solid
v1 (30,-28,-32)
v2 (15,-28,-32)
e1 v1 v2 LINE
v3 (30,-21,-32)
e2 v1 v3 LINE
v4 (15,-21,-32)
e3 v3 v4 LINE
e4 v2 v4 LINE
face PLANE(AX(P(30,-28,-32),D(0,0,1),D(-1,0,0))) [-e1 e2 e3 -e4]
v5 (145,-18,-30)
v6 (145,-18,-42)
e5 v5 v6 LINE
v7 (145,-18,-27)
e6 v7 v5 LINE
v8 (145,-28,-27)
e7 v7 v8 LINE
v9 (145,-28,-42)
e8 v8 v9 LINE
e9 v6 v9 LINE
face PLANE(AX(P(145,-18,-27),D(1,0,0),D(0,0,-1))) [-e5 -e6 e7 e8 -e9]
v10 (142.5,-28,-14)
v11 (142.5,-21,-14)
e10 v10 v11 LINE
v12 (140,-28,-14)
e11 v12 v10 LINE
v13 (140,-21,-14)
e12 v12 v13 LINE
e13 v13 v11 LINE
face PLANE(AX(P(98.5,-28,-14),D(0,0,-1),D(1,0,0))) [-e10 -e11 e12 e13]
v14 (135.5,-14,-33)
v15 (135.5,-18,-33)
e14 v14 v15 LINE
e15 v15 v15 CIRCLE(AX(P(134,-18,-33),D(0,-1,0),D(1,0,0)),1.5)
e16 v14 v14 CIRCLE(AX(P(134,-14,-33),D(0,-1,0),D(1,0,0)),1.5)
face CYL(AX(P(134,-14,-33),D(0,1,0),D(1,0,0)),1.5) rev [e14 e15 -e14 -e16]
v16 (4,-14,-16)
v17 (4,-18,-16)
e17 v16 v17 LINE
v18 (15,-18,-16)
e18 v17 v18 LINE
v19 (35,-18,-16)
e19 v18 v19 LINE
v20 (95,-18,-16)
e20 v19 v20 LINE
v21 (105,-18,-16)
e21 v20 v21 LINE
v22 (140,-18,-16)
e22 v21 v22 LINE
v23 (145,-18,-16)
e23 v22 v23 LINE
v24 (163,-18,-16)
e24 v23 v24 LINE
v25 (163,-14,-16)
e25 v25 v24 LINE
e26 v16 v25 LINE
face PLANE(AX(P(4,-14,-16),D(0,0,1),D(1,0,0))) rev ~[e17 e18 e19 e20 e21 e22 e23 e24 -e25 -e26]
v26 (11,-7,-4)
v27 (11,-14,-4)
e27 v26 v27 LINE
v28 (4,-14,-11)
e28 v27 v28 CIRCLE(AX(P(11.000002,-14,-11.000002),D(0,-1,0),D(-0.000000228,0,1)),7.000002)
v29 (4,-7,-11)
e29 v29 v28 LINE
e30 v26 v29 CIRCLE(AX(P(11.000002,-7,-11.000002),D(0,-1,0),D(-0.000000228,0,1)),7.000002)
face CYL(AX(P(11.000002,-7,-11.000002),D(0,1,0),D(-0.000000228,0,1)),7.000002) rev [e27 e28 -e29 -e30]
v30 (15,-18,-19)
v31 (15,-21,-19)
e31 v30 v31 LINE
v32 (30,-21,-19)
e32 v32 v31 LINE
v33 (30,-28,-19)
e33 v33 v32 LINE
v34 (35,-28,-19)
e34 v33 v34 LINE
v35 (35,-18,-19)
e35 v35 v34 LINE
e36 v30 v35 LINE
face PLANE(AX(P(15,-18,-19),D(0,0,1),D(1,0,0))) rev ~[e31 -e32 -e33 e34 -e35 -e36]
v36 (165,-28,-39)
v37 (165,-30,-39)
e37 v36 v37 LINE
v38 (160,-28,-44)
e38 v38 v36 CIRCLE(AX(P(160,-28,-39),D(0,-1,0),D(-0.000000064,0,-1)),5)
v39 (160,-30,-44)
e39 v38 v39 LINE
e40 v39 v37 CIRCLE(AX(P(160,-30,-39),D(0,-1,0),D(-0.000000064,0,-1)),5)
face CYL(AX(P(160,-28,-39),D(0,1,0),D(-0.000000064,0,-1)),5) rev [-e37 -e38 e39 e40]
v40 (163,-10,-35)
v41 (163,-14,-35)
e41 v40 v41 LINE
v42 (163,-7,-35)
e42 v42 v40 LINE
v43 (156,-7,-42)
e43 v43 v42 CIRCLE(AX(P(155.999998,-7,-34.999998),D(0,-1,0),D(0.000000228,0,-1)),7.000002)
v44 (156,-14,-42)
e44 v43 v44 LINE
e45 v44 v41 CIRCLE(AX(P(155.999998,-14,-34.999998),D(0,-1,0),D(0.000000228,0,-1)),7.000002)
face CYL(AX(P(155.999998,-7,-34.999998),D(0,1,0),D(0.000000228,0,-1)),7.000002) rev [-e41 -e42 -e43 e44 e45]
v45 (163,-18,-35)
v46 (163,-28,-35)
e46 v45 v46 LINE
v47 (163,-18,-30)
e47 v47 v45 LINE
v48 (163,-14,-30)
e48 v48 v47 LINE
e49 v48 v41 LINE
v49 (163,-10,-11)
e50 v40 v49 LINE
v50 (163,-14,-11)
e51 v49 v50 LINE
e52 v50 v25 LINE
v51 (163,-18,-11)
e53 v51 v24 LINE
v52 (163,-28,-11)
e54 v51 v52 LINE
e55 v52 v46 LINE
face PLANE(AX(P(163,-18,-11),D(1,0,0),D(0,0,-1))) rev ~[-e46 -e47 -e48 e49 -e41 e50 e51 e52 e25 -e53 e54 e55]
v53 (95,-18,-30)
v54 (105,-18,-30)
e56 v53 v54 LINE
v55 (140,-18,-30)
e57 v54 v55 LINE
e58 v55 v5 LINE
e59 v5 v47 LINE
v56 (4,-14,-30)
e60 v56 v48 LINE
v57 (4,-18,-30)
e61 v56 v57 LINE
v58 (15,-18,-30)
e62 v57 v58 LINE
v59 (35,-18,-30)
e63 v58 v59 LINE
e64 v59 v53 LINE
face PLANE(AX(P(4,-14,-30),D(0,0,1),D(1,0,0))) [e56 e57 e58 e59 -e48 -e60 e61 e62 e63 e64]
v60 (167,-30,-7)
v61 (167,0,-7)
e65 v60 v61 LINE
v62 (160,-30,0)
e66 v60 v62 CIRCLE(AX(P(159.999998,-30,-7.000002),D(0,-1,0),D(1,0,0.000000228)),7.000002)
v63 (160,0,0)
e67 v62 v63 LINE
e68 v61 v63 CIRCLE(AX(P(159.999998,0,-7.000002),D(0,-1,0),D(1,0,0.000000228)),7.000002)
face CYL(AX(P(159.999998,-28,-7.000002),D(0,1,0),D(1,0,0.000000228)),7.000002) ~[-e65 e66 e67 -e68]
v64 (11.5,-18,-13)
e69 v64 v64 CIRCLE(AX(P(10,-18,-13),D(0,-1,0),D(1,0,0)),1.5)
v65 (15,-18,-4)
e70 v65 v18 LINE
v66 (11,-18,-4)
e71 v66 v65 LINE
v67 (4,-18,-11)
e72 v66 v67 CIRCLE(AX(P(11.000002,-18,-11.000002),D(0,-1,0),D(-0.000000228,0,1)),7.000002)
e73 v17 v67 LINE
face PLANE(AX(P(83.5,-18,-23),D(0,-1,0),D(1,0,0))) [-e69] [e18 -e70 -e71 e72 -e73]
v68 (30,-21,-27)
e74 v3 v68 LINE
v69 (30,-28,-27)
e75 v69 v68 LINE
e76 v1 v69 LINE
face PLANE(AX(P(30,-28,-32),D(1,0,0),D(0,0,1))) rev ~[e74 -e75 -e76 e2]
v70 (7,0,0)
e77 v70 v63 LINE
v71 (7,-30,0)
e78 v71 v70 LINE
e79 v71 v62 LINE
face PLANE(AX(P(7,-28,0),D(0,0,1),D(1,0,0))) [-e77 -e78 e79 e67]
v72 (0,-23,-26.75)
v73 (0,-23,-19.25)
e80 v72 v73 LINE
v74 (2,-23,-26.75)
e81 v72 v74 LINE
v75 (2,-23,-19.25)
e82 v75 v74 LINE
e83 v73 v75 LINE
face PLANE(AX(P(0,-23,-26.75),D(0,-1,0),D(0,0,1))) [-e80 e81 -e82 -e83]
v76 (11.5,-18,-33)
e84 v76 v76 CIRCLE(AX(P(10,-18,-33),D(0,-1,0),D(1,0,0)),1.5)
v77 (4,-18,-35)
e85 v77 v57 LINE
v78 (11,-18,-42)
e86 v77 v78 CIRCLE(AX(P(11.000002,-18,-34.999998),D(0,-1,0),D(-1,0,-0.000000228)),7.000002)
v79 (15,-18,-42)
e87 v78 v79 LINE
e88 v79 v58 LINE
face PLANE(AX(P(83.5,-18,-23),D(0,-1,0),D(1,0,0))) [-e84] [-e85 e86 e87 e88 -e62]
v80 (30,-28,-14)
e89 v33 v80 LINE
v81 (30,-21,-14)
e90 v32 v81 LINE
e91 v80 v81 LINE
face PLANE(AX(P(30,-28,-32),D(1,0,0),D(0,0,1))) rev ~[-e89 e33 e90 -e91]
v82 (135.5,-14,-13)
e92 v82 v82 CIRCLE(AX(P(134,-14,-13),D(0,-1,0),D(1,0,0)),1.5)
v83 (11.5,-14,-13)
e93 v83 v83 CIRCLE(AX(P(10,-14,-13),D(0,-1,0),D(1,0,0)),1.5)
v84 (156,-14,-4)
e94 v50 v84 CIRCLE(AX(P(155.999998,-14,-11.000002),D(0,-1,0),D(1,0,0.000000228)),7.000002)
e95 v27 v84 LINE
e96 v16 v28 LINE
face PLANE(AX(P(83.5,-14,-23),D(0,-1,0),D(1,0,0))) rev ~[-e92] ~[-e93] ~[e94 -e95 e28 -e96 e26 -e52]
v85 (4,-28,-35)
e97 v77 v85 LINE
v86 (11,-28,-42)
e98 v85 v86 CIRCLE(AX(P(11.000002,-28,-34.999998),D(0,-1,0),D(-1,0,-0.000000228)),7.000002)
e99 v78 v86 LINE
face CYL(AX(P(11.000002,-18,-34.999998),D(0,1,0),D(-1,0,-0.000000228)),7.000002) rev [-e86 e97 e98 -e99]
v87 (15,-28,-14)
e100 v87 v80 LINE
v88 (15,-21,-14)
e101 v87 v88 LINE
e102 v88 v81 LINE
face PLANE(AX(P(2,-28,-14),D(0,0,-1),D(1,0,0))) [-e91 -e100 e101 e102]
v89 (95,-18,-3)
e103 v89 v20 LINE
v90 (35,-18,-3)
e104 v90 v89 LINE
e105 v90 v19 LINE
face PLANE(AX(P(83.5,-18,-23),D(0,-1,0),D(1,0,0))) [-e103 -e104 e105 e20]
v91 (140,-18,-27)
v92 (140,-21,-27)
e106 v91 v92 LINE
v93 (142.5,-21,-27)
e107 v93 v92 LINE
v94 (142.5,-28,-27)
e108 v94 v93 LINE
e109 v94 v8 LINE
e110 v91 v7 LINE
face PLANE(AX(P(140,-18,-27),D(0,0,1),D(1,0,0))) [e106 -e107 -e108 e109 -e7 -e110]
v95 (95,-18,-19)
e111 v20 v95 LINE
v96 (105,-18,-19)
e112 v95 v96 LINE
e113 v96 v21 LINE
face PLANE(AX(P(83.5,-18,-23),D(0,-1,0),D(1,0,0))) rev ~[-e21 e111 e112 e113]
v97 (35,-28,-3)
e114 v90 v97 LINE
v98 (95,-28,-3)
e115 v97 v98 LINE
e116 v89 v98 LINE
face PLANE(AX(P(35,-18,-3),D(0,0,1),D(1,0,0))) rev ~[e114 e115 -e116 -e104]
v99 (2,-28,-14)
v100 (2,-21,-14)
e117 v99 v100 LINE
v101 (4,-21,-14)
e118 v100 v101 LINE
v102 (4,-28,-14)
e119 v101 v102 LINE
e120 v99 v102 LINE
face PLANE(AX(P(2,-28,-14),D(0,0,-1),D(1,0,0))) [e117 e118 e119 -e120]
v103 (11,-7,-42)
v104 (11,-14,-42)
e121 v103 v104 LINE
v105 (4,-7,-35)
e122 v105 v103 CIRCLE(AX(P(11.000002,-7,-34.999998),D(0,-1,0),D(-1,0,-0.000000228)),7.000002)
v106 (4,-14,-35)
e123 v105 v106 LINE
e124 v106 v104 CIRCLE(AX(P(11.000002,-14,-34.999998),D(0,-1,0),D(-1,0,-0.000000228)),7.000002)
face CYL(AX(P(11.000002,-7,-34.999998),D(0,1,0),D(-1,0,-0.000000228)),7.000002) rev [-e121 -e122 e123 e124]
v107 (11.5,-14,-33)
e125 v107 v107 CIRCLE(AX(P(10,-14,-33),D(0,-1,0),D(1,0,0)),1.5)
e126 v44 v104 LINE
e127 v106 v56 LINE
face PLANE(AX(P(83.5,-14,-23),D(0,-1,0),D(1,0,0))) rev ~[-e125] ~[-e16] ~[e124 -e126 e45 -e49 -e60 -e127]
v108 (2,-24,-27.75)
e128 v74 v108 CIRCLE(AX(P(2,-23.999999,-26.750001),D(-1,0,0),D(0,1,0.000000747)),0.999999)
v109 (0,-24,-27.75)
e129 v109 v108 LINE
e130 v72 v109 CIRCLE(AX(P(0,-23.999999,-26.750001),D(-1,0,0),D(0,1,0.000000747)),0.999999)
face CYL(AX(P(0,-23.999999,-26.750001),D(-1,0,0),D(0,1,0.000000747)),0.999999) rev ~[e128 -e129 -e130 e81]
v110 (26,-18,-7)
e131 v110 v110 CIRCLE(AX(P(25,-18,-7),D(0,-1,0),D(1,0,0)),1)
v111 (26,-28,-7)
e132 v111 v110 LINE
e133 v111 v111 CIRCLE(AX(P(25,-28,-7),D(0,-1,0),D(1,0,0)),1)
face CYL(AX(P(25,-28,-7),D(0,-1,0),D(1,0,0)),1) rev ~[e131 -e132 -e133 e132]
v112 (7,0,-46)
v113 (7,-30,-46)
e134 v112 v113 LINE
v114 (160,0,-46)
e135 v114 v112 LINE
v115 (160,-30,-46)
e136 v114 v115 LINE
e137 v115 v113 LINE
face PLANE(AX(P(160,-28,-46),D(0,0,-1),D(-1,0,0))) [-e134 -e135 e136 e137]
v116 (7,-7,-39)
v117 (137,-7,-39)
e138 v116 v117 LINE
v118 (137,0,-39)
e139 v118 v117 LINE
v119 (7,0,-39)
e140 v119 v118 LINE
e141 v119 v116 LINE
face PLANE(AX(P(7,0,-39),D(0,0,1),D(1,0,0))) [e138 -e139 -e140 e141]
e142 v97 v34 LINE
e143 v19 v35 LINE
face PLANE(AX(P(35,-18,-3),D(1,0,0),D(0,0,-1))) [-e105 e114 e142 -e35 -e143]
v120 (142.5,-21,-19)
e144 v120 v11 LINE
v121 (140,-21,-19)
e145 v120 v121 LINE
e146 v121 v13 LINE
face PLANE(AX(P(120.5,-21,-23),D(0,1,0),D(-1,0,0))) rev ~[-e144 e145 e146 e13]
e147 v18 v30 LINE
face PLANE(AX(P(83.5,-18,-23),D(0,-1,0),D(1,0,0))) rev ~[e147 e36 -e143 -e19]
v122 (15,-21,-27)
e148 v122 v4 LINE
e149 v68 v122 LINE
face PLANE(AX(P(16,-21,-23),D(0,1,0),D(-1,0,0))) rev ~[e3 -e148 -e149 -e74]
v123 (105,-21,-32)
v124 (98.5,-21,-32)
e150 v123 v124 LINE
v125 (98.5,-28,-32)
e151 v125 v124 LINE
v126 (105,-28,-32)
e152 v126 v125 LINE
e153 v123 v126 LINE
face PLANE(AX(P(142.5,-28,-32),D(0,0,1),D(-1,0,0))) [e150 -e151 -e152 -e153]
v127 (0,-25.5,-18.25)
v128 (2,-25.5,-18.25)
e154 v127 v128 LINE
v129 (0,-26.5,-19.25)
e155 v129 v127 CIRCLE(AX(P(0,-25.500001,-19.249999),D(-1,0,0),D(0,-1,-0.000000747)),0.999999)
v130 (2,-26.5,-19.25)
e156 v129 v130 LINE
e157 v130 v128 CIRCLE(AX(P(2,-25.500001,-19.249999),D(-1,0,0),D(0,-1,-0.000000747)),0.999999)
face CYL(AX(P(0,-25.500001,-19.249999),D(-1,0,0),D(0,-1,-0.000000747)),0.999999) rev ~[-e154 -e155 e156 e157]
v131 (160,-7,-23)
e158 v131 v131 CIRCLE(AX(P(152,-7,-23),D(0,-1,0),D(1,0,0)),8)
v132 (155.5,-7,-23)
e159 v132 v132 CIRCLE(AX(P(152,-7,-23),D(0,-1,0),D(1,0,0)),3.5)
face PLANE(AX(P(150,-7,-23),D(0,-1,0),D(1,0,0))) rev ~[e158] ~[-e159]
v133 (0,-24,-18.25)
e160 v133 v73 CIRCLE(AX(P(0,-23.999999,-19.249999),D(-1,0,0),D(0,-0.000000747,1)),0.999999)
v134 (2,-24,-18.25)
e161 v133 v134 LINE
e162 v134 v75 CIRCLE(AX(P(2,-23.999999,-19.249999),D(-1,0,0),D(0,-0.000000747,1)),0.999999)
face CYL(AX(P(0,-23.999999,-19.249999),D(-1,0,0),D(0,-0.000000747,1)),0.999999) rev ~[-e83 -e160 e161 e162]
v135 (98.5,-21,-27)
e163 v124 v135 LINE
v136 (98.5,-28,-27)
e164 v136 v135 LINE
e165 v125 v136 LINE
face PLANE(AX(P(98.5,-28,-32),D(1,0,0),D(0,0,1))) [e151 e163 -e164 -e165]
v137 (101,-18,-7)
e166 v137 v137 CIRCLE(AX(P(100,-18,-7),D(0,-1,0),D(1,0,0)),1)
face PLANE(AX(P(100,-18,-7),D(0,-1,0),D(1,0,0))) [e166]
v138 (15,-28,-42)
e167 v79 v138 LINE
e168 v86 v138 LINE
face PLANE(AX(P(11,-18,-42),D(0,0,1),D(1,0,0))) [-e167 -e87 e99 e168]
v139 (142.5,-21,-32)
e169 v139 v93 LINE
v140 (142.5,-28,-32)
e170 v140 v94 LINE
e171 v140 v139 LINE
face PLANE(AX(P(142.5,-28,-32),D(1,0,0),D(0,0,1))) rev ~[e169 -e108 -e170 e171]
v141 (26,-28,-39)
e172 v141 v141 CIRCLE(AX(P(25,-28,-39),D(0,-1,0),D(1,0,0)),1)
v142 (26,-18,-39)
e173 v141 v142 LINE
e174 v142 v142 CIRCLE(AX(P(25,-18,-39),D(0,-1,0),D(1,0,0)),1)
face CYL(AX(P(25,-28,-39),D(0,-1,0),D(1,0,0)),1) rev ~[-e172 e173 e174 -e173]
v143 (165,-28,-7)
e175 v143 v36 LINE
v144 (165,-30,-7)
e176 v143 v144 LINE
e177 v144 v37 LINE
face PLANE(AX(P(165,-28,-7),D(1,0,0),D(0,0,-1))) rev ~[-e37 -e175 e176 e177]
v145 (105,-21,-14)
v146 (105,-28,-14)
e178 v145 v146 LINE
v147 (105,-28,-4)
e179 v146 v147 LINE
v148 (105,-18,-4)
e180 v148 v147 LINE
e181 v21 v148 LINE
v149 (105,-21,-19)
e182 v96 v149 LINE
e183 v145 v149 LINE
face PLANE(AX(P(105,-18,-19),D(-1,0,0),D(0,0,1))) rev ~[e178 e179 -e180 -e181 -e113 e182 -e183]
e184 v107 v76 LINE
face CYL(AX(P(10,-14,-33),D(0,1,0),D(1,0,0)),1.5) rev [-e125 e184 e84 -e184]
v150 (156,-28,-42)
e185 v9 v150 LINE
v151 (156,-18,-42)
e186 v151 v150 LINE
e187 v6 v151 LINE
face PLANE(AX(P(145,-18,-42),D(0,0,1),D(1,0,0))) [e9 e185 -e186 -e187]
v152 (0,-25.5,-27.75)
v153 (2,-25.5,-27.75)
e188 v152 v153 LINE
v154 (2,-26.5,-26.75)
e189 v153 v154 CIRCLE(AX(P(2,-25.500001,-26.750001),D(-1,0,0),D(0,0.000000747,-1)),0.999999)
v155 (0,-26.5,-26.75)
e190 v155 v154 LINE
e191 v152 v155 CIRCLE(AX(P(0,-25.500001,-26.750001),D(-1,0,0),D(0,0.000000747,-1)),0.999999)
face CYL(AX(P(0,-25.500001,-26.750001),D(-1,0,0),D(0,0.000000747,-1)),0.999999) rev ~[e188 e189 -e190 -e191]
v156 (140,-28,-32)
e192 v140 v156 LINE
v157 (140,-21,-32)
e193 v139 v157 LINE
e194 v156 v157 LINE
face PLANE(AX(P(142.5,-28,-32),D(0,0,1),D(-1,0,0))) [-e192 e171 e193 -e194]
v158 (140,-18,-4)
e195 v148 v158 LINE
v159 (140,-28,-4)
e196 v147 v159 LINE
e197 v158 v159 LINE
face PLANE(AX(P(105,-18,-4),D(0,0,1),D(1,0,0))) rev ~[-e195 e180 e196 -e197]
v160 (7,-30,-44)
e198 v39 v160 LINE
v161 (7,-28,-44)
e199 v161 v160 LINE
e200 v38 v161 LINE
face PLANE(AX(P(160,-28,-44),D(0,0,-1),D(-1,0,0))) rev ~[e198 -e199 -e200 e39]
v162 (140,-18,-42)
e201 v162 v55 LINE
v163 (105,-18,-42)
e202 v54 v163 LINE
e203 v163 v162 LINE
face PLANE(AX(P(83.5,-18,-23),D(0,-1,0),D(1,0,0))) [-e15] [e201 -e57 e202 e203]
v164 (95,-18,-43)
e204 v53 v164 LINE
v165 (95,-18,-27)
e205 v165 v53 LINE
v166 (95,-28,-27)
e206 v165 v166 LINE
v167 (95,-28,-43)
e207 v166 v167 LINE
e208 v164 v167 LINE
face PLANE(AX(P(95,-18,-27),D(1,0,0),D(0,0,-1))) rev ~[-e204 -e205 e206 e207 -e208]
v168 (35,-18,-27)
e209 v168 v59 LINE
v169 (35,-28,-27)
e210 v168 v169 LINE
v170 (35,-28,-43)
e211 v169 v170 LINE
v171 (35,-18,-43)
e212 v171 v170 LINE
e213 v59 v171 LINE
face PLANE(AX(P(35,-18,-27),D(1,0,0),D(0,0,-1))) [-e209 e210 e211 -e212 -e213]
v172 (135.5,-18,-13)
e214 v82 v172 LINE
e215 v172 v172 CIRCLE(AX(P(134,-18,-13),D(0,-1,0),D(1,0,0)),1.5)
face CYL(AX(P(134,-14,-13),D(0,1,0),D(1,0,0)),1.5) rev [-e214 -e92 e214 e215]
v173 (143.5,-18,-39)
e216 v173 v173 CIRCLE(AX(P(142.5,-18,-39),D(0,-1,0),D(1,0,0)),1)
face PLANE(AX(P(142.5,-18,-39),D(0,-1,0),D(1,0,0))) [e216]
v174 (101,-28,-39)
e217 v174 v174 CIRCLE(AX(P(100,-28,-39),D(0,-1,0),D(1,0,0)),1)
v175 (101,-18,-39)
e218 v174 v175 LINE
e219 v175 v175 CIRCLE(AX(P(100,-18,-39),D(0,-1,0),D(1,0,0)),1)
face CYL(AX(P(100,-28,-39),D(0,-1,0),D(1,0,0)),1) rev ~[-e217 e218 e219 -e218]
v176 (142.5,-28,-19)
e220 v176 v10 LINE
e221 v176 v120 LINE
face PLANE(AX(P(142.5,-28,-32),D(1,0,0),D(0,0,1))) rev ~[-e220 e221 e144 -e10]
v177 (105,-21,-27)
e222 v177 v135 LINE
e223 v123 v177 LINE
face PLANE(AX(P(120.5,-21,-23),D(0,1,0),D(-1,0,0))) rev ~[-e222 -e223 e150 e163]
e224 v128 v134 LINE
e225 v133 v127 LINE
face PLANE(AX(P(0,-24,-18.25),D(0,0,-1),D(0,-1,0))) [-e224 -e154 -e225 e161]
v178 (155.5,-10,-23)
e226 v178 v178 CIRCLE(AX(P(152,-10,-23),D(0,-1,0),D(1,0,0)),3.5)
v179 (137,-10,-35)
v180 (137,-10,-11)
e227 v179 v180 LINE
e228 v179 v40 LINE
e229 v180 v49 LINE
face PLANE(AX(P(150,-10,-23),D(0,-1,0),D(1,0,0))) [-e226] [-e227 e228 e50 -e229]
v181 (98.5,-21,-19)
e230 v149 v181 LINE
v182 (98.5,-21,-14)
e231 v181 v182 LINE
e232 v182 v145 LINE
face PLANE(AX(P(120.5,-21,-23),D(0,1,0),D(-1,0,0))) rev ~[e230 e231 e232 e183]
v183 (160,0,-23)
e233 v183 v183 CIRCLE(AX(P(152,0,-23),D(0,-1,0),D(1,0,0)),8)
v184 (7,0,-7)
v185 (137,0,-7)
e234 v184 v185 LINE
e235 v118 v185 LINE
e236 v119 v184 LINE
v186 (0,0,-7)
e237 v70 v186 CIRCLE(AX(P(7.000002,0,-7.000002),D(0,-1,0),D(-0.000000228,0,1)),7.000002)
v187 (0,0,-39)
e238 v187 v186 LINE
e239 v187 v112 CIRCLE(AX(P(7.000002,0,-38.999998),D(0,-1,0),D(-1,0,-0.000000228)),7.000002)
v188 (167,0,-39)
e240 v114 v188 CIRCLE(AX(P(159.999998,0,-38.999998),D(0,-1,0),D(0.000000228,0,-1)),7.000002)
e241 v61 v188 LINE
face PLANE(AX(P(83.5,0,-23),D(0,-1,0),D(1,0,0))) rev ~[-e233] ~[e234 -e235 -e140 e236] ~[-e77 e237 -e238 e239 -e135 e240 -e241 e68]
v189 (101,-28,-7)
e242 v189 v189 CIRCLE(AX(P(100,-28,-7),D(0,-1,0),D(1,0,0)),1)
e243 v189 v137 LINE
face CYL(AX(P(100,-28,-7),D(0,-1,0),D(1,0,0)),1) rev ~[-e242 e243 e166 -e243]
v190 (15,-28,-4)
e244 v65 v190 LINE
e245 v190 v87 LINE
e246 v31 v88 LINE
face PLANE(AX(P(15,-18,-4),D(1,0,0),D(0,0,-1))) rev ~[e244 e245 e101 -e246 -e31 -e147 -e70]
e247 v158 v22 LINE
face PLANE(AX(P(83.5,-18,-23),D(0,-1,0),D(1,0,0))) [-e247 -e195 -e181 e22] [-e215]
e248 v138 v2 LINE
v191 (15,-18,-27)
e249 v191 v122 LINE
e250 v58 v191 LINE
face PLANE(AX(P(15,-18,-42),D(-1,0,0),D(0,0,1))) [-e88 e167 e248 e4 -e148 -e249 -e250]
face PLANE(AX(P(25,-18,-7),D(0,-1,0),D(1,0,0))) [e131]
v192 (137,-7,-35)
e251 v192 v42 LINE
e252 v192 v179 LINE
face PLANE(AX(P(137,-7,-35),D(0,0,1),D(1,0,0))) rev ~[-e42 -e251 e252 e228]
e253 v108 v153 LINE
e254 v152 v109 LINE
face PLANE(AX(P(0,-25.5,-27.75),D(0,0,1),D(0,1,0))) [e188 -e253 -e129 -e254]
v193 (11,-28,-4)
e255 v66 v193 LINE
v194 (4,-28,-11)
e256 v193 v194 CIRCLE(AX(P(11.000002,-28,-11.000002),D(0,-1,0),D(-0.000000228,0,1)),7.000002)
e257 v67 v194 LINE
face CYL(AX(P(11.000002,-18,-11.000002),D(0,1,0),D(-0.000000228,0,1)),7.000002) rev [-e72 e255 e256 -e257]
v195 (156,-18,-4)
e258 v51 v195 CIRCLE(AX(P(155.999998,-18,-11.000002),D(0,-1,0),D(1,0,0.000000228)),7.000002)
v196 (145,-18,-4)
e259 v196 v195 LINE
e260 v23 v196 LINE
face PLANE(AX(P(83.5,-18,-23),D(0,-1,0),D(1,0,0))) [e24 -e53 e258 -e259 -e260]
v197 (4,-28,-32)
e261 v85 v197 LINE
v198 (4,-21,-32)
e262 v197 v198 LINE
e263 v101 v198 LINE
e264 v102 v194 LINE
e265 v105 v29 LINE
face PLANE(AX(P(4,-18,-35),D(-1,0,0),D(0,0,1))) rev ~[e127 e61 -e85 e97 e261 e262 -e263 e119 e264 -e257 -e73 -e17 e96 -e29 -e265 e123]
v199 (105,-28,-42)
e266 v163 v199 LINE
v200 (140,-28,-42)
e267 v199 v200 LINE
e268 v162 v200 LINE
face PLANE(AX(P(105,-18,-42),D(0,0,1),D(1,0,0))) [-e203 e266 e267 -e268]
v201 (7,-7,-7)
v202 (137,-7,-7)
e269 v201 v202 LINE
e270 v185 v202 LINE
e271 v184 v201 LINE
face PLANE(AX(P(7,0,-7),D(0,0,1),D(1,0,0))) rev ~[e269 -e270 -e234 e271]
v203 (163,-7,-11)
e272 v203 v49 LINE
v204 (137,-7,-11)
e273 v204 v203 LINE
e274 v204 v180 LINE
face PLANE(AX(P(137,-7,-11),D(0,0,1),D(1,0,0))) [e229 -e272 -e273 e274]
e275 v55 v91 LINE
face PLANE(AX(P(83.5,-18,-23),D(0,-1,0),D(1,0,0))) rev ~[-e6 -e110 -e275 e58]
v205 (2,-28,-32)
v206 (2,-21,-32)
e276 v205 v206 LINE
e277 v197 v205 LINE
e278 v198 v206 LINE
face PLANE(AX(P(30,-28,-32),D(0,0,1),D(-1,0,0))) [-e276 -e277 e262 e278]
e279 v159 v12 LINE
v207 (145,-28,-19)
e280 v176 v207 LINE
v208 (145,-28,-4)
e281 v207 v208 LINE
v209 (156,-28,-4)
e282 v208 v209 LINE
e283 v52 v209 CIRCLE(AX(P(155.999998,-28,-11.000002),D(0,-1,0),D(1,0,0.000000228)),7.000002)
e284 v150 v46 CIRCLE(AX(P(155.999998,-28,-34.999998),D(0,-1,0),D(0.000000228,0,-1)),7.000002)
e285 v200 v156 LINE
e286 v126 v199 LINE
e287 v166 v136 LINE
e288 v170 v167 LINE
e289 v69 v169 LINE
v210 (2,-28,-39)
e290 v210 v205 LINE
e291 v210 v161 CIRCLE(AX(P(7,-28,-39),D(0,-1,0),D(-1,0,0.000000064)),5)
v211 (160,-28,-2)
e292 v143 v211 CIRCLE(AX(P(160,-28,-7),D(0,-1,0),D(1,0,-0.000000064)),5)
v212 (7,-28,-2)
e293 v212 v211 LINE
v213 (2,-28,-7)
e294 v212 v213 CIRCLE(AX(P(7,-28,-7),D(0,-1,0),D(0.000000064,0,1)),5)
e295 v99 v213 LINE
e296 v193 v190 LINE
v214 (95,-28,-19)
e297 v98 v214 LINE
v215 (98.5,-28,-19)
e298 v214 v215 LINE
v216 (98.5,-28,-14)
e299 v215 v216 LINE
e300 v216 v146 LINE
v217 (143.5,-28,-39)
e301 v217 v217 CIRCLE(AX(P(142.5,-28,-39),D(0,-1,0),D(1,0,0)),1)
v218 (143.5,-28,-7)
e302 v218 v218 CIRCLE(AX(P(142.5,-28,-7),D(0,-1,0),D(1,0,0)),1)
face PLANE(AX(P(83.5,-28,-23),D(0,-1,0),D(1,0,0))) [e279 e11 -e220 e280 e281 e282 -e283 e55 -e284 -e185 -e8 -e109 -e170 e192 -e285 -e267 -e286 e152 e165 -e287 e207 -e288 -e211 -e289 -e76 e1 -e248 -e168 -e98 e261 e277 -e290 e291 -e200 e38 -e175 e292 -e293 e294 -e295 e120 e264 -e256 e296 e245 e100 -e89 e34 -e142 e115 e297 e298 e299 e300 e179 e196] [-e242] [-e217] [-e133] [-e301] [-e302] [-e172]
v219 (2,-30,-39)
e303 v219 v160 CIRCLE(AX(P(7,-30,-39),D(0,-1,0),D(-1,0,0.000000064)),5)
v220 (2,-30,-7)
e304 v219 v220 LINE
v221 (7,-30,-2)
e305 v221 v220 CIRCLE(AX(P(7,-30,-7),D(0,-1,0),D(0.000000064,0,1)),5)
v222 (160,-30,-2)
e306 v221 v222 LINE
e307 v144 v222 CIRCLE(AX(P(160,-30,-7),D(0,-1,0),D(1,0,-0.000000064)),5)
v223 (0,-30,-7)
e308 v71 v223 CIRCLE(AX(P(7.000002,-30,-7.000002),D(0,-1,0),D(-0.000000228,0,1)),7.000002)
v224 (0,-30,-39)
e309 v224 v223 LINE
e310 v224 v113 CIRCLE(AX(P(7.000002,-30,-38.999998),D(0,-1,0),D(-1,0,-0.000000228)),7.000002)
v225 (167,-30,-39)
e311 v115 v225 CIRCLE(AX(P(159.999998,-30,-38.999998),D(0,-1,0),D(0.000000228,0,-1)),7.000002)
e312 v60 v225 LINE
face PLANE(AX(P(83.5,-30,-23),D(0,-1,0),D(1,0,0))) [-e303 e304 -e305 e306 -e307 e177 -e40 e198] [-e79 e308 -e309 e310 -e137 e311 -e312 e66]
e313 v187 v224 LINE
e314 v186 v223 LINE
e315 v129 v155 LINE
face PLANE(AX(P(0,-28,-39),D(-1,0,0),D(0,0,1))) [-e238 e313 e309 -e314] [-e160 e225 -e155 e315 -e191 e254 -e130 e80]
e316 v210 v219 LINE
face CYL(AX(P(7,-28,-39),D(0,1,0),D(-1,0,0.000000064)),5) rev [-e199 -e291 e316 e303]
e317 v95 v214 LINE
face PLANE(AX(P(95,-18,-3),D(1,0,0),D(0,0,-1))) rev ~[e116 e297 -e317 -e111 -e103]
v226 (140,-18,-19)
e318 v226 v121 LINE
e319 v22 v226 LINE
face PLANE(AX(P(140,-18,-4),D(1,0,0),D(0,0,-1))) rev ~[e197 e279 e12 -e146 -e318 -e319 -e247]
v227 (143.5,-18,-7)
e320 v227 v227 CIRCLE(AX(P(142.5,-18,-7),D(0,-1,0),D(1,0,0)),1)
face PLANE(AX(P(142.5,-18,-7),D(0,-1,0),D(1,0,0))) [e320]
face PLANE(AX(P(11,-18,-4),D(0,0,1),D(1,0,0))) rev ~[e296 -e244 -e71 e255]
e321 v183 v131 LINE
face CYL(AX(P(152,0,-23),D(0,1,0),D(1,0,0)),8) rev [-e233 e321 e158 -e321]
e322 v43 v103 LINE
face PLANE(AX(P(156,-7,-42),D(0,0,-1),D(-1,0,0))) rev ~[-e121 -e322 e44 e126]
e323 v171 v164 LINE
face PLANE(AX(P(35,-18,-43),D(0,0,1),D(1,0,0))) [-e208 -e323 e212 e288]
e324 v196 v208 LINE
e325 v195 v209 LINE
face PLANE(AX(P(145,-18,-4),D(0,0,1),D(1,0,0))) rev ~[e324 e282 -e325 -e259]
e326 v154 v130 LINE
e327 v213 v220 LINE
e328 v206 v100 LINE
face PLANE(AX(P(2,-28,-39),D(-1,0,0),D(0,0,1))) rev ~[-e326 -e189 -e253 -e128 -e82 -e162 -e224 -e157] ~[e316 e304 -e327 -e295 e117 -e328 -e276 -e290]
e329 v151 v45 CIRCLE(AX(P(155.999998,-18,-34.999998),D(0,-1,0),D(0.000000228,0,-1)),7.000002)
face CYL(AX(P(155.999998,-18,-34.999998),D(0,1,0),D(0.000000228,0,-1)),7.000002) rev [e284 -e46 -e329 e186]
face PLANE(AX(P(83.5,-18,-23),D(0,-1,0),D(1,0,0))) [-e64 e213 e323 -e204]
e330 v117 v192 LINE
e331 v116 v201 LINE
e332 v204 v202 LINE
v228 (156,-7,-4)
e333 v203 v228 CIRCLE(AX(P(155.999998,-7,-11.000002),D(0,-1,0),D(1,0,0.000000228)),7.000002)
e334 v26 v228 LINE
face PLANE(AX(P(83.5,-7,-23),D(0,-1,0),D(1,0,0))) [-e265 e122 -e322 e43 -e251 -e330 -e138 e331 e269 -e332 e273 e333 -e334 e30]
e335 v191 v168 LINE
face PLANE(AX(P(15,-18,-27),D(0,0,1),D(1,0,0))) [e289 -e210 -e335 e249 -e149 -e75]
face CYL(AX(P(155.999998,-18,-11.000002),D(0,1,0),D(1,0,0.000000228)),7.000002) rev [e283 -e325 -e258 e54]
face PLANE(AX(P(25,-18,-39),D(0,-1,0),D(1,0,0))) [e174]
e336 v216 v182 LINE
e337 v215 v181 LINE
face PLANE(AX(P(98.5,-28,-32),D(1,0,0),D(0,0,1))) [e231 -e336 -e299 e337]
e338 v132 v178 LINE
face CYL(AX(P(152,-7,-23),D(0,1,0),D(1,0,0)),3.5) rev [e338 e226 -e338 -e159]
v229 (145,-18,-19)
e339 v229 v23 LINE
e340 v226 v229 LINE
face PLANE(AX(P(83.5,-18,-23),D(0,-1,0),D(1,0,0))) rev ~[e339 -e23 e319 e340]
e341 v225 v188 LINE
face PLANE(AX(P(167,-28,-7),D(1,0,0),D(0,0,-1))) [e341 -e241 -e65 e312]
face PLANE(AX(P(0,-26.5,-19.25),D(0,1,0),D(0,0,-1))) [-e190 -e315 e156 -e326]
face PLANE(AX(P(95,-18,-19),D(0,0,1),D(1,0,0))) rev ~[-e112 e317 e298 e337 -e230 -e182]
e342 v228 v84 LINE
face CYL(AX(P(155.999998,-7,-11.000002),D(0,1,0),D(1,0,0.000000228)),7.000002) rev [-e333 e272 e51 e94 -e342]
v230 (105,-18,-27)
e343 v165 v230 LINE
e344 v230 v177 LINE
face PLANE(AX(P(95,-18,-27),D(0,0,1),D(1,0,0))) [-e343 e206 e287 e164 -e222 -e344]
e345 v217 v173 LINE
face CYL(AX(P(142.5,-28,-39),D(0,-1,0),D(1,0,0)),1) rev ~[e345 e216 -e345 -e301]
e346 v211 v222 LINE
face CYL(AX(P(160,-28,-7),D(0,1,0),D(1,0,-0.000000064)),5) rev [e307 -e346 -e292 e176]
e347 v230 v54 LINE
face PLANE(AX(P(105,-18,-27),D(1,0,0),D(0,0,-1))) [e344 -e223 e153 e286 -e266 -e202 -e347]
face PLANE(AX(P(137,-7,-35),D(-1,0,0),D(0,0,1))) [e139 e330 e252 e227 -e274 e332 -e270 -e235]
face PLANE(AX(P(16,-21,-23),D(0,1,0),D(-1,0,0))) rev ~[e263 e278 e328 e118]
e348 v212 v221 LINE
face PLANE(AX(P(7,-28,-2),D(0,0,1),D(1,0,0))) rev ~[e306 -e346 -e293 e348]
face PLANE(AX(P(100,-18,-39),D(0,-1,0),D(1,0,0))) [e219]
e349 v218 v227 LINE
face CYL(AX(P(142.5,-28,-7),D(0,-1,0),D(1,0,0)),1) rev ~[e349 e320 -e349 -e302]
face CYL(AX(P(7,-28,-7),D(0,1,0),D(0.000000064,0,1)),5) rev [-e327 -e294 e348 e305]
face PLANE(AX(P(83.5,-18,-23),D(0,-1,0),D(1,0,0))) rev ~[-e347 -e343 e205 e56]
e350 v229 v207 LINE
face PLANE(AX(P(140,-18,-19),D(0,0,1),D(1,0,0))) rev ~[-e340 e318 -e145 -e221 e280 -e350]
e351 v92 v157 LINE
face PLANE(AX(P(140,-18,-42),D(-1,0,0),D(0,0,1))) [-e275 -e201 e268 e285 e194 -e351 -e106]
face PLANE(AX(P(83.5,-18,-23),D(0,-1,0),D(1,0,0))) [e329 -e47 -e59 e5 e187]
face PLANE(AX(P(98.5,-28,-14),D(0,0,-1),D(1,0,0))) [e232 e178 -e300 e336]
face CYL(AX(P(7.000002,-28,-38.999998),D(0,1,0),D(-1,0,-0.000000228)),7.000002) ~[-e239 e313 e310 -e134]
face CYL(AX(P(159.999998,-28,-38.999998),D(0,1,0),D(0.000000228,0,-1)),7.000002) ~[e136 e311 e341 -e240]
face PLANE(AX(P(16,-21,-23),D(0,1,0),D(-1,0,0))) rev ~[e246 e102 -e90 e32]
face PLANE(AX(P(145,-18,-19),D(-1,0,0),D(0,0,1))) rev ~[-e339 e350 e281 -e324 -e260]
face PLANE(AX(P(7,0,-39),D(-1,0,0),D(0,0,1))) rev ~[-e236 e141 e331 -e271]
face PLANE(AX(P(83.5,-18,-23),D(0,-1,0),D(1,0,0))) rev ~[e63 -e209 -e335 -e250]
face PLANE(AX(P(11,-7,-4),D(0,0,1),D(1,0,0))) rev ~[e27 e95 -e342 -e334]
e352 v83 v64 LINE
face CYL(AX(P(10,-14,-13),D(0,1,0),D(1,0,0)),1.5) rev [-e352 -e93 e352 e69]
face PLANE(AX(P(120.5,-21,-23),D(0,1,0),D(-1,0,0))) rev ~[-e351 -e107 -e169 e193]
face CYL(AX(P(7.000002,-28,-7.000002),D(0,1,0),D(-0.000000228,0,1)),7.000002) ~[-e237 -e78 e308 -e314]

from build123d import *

# Parameters (mm, degrees)
SKETCH_R        = 8
SKETCH_W        = 130
SKETCH_H        = 32
PAD_DEPTH       = 7
PAD001_DEPTH    = 7
SKETCH003_W     = 26
SKETCH003_H     = 24
SKETCH003_R     = 3.5
PAD002_DEPTH    = 3
SKETCH004_R     = 1.5
SKETCH004_W     = 159
SKETCH004_H     = 14
PAD003_DEPTH    = 4
PAD004_DEPTH    = 10
POCKET_DEPTH    = 7
POCKET001_DEPTH = 10
PAD005_DEPTH    = 2
SKETCH009_R     = 1
POCKET002_DEPTH = 10


with BuildPart() as part:
    # Sketch → Pad (new body)
    with BuildSketch(Plane.XZ):
        with BuildLine():
            ThreePointArc((7, 0), (2.050253, -2.050253), (0, -7))
            Line((0, -39), (0, -7))
            ThreePointArc((0, -39), (2.050253, -43.949747), (7, -46))
            Line((160, -46), (7, -46))
            ThreePointArc((160, -46), (164.949747, -43.949747), (167, -39))
            Line((167, -7), (167, -39))
            ThreePointArc((167, -7), (164.949747, -2.050253), (160, 0))
            Line((7, 0), (160, 0))
        make_face()
        with Locations((152, -23)):
            Circle(SKETCH_R, mode=Mode.SUBTRACT)
        with Locations((72, -23)):
            Rectangle(SKETCH_W, SKETCH_H, mode=Mode.SUBTRACT)
    extrude(amount=PAD_DEPTH)

    # Sketch002 (on Face15 of Pad) → Pad001 (join)
    with BuildSketch(Plane.XZ.offset(7)):
        with BuildLine():
            ThreePointArc((7, 0), (2.050253, -2.050253), (0, -7))
            Line((0, -39), (0, -7))
            ThreePointArc((0, -39), (2.050253, -43.949747), (7, -46))
            Line((160, -46), (7, -46))
            ThreePointArc((160, -46), (164.949747, -43.949747), (167, -39))
            Line((167, -7), (167, -39))
            ThreePointArc((167, -7), (164.949747, -2.050253), (160, 0))
            Line((7, 0), (160, 0))
        make_face()
        with BuildLine():
            ThreePointArc((11, -4), (6.050253, -6.050253), (4, -11))
            Line((4, -35), (4, -11))
            ThreePointArc((4, -35), (6.050253, -39.949747), (11, -42))
            Line((156, -42), (11, -42))
            ThreePointArc((156, -42), (160.949747, -39.949747), (163, -35))
            Line((163, -11), (163, -35))
            ThreePointArc((163, -11), (160.949747, -6.050253), (156, -4))
            Line((11, -4), (156, -4))
        make_face(mode=Mode.SUBTRACT)
    extrude(amount=PAD001_DEPTH)

    # Sketch003 (on Face24 of Pad001) → Pad002 (join)
    with BuildSketch(Plane.XZ.offset(7)):
        with Locations((150, -23)):
            Rectangle(SKETCH003_W, SKETCH003_H)
        with Locations((152, -23)):
            Circle(SKETCH003_R, mode=Mode.SUBTRACT)
    extrude(amount=PAD002_DEPTH)

    # Sketch004 (on Face18 of Pad002) → Pad003 (join)
    with BuildSketch(Plane.XZ.offset(14)):
        with BuildLine():
            ThreePointArc((7, 0), (2.050253, -2.050253), (0, -7))
            Line((0, -39), (0, -7))
            ThreePointArc((0, -39), (2.050253, -43.949747), (7, -46))
            Line((160, -46), (7, -46))
            ThreePointArc((160, -46), (164.949747, -43.949747), (167, -39))
            Line((167, -7), (167, -39))
            ThreePointArc((167, -7), (164.949747, -2.050253), (160, 0))
            Line((7, 0), (160, 0))
        make_face()
        with Locations((10, -13)):
            Circle(SKETCH004_R, mode=Mode.SUBTRACT)
        with Locations((10, -33)):
            Circle(SKETCH004_R, mode=Mode.SUBTRACT)
        with Locations((134, -13)):
            Circle(SKETCH004_R, mode=Mode.SUBTRACT)
        with Locations((134, -33)):
            Circle(SKETCH004_R, mode=Mode.SUBTRACT)
        with Locations((83.5, -23)):
            Rectangle(SKETCH004_W, SKETCH004_H, mode=Mode.SUBTRACT)
    extrude(amount=PAD003_DEPTH)

    # Sketch005 (on Face29 of Pad003) → Pad004 (join)
    with BuildSketch(Plane.XZ.offset(18)):
        with BuildLine():
            ThreePointArc((7, 0), (2.050253, -2.050253), (0, -7))
            Line((0, -39), (0, -7))
            ThreePointArc((0, -39), (2.050253, -43.949747), (7, -46))
            Line((160, -46), (7, -46))
            ThreePointArc((160, -46), (164.949747, -43.949747), (167, -39))
            Line((167, -7), (167, -39))
            ThreePointArc((167, -7), (164.949747, -2.050253), (160, 0))
            Line((7, 0), (160, 0))
        make_face()
        with BuildLine():
            ThreePointArc((11, -4), (6.050253, -6.050253), (4, -11))
            Line((4, -35), (4, -11))
            ThreePointArc((4, -35), (6.050253, -39.949747), (11, -42))
            Line((11, -42), (15, -42))
            Line((15, -42), (15, -27))
            Line((15, -27), (35, -27))
            Line((35, -27), (35, -43))
            Line((35, -43), (95, -43))
            Line((95, -27), (95, -43))
            Line((95, -27), (105, -27))
            Line((105, -27), (105, -42))
            Line((105, -42), (140, -42))
            Line((140, -42), (140, -27))
            Line((140, -27), (145, -27))
            Line((145, -27), (145, -42))
            Line((145, -42), (156, -42))
            ThreePointArc((156, -42), (160.949747, -39.949747), (163, -35))
            Line((163, -11), (163, -35))
            ThreePointArc((163, -11), (160.949747, -6.050253), (156, -4))
            Line((145, -4), (156, -4))
            Line((145, -19), (145, -4))
            Line((140, -19), (145, -19))
            Line((140, -4), (140, -19))
            Line((105, -4), (140, -4))
            Line((105, -19), (105, -4))
            Line((95, -19), (105, -19))
            Line((95, -3), (95, -19))
            Line((35, -3), (95, -3))
            Line((35, -3), (35, -19))
            Line((15, -19), (35, -19))
            Line((15, -4), (15, -19))
            Line((11, -4), (15, -4))
        make_face(mode=Mode.SUBTRACT)
    extrude(amount=PAD004_DEPTH)

    # Sketch006 (on Face48 of Pad004) → Pocket (cut)
    with BuildSketch(Plane.XZ.offset(28)):
        Polygon((2, -14), (30, -14), (30, -23), (30, -32), (2, -32), align=None)
        Polygon((98.5, -14), (142.5, -14), (142.5, -23), (142.5, -32), (98.5, -32), align=None)
    extrude(amount=-POCKET_DEPTH, mode=Mode.SUBTRACT)

    # Sketch007 (on Face33 of Pocket) → Pocket001 (cut)
    with BuildSketch(Plane(origin=(0, 0, 0), x_dir=(0, 0, -1), z_dir=(-1, 0, 0))):
        with BuildLine():
            ThreePointArc((19.25, 26.5), (18.542893, 26.207107), (18.25, 25.5))
            Line((18.25, 24.75), (18.25, 25.5))
            Line((18.25, 24), (18.25, 24.75))
            ThreePointArc((18.25, 24), (18.542893, 23.292893), (19.25, 23))
            Line((26.75, 23), (19.25, 23))
            ThreePointArc((26.75, 23), (27.457107, 23.292893), (27.75, 24))
            Line((27.75, 25.5), (27.75, 24))
            ThreePointArc((27.75, 25.5), (27.457107, 26.207107), (26.75, 26.5))
            Line((23, 26.5), (26.75, 26.5))
            Line((19.25, 26.5), (23, 26.5))
        make_face()
    extrude(amount=-POCKET001_DEPTH, mode=Mode.SUBTRACT)

    # Sketch008 (on Face48 of Pocket001) → Pad005 (join)
    with BuildSketch(Plane.XZ.offset(28)):
        with BuildLine():
            ThreePointArc((7, 0), (2.050253, -2.050253), (0, -7))
            Line((0, -39), (0, -7))
            ThreePointArc((0, -39), (2.050253, -43.949747), (7, -46))
            Line((160, -46), (7, -46))
            ThreePointArc((160, -46), (164.949747, -43.949747), (167, -39))
            Line((167, -7), (167, -39))
            ThreePointArc((167, -7), (164.949747, -2.050253), (160, 0))
            Line((7, 0), (160, 0))
        make_face()
        with BuildLine():
            ThreePointArc((7, -2), (3.464466, -3.464466), (2, -7))
            Line((2, -39), (2, -7))
            ThreePointArc((2, -39), (3.464466, -42.535534), (7, -44))
            Line((160, -44), (7, -44))
            ThreePointArc((160, -44), (163.535534, -42.535534), (165, -39))
            Line((165, -7), (165, -39))
            ThreePointArc((165, -7), (163.535534, -3.464466), (160, -2))
            Line((7, -2), (160, -2))
        make_face(mode=Mode.SUBTRACT)
    extrude(amount=PAD005_DEPTH)

    # Sketch009 (on Face111 of Pad005) → Pocket002 (cut)
    with BuildSketch(Plane.XZ.offset(28)):
        with Locations((25, -7)):
            Circle(SKETCH009_R)
        with Locations((100, -7)):
            Circle(SKETCH009_R)
        with Locations((142.5, -7)):
            Circle(SKETCH009_R)
        with Locations((25, -39)):
            Circle(SKETCH009_R)
        with Locations((100, -39)):
            Circle(SKETCH009_R)
        with Locations((142.5, -39)):
            Circle(SKETCH009_R)
    extrude(amount=-POCKET002_DEPTH, mode=Mode.SUBTRACT)


solid = part.part
